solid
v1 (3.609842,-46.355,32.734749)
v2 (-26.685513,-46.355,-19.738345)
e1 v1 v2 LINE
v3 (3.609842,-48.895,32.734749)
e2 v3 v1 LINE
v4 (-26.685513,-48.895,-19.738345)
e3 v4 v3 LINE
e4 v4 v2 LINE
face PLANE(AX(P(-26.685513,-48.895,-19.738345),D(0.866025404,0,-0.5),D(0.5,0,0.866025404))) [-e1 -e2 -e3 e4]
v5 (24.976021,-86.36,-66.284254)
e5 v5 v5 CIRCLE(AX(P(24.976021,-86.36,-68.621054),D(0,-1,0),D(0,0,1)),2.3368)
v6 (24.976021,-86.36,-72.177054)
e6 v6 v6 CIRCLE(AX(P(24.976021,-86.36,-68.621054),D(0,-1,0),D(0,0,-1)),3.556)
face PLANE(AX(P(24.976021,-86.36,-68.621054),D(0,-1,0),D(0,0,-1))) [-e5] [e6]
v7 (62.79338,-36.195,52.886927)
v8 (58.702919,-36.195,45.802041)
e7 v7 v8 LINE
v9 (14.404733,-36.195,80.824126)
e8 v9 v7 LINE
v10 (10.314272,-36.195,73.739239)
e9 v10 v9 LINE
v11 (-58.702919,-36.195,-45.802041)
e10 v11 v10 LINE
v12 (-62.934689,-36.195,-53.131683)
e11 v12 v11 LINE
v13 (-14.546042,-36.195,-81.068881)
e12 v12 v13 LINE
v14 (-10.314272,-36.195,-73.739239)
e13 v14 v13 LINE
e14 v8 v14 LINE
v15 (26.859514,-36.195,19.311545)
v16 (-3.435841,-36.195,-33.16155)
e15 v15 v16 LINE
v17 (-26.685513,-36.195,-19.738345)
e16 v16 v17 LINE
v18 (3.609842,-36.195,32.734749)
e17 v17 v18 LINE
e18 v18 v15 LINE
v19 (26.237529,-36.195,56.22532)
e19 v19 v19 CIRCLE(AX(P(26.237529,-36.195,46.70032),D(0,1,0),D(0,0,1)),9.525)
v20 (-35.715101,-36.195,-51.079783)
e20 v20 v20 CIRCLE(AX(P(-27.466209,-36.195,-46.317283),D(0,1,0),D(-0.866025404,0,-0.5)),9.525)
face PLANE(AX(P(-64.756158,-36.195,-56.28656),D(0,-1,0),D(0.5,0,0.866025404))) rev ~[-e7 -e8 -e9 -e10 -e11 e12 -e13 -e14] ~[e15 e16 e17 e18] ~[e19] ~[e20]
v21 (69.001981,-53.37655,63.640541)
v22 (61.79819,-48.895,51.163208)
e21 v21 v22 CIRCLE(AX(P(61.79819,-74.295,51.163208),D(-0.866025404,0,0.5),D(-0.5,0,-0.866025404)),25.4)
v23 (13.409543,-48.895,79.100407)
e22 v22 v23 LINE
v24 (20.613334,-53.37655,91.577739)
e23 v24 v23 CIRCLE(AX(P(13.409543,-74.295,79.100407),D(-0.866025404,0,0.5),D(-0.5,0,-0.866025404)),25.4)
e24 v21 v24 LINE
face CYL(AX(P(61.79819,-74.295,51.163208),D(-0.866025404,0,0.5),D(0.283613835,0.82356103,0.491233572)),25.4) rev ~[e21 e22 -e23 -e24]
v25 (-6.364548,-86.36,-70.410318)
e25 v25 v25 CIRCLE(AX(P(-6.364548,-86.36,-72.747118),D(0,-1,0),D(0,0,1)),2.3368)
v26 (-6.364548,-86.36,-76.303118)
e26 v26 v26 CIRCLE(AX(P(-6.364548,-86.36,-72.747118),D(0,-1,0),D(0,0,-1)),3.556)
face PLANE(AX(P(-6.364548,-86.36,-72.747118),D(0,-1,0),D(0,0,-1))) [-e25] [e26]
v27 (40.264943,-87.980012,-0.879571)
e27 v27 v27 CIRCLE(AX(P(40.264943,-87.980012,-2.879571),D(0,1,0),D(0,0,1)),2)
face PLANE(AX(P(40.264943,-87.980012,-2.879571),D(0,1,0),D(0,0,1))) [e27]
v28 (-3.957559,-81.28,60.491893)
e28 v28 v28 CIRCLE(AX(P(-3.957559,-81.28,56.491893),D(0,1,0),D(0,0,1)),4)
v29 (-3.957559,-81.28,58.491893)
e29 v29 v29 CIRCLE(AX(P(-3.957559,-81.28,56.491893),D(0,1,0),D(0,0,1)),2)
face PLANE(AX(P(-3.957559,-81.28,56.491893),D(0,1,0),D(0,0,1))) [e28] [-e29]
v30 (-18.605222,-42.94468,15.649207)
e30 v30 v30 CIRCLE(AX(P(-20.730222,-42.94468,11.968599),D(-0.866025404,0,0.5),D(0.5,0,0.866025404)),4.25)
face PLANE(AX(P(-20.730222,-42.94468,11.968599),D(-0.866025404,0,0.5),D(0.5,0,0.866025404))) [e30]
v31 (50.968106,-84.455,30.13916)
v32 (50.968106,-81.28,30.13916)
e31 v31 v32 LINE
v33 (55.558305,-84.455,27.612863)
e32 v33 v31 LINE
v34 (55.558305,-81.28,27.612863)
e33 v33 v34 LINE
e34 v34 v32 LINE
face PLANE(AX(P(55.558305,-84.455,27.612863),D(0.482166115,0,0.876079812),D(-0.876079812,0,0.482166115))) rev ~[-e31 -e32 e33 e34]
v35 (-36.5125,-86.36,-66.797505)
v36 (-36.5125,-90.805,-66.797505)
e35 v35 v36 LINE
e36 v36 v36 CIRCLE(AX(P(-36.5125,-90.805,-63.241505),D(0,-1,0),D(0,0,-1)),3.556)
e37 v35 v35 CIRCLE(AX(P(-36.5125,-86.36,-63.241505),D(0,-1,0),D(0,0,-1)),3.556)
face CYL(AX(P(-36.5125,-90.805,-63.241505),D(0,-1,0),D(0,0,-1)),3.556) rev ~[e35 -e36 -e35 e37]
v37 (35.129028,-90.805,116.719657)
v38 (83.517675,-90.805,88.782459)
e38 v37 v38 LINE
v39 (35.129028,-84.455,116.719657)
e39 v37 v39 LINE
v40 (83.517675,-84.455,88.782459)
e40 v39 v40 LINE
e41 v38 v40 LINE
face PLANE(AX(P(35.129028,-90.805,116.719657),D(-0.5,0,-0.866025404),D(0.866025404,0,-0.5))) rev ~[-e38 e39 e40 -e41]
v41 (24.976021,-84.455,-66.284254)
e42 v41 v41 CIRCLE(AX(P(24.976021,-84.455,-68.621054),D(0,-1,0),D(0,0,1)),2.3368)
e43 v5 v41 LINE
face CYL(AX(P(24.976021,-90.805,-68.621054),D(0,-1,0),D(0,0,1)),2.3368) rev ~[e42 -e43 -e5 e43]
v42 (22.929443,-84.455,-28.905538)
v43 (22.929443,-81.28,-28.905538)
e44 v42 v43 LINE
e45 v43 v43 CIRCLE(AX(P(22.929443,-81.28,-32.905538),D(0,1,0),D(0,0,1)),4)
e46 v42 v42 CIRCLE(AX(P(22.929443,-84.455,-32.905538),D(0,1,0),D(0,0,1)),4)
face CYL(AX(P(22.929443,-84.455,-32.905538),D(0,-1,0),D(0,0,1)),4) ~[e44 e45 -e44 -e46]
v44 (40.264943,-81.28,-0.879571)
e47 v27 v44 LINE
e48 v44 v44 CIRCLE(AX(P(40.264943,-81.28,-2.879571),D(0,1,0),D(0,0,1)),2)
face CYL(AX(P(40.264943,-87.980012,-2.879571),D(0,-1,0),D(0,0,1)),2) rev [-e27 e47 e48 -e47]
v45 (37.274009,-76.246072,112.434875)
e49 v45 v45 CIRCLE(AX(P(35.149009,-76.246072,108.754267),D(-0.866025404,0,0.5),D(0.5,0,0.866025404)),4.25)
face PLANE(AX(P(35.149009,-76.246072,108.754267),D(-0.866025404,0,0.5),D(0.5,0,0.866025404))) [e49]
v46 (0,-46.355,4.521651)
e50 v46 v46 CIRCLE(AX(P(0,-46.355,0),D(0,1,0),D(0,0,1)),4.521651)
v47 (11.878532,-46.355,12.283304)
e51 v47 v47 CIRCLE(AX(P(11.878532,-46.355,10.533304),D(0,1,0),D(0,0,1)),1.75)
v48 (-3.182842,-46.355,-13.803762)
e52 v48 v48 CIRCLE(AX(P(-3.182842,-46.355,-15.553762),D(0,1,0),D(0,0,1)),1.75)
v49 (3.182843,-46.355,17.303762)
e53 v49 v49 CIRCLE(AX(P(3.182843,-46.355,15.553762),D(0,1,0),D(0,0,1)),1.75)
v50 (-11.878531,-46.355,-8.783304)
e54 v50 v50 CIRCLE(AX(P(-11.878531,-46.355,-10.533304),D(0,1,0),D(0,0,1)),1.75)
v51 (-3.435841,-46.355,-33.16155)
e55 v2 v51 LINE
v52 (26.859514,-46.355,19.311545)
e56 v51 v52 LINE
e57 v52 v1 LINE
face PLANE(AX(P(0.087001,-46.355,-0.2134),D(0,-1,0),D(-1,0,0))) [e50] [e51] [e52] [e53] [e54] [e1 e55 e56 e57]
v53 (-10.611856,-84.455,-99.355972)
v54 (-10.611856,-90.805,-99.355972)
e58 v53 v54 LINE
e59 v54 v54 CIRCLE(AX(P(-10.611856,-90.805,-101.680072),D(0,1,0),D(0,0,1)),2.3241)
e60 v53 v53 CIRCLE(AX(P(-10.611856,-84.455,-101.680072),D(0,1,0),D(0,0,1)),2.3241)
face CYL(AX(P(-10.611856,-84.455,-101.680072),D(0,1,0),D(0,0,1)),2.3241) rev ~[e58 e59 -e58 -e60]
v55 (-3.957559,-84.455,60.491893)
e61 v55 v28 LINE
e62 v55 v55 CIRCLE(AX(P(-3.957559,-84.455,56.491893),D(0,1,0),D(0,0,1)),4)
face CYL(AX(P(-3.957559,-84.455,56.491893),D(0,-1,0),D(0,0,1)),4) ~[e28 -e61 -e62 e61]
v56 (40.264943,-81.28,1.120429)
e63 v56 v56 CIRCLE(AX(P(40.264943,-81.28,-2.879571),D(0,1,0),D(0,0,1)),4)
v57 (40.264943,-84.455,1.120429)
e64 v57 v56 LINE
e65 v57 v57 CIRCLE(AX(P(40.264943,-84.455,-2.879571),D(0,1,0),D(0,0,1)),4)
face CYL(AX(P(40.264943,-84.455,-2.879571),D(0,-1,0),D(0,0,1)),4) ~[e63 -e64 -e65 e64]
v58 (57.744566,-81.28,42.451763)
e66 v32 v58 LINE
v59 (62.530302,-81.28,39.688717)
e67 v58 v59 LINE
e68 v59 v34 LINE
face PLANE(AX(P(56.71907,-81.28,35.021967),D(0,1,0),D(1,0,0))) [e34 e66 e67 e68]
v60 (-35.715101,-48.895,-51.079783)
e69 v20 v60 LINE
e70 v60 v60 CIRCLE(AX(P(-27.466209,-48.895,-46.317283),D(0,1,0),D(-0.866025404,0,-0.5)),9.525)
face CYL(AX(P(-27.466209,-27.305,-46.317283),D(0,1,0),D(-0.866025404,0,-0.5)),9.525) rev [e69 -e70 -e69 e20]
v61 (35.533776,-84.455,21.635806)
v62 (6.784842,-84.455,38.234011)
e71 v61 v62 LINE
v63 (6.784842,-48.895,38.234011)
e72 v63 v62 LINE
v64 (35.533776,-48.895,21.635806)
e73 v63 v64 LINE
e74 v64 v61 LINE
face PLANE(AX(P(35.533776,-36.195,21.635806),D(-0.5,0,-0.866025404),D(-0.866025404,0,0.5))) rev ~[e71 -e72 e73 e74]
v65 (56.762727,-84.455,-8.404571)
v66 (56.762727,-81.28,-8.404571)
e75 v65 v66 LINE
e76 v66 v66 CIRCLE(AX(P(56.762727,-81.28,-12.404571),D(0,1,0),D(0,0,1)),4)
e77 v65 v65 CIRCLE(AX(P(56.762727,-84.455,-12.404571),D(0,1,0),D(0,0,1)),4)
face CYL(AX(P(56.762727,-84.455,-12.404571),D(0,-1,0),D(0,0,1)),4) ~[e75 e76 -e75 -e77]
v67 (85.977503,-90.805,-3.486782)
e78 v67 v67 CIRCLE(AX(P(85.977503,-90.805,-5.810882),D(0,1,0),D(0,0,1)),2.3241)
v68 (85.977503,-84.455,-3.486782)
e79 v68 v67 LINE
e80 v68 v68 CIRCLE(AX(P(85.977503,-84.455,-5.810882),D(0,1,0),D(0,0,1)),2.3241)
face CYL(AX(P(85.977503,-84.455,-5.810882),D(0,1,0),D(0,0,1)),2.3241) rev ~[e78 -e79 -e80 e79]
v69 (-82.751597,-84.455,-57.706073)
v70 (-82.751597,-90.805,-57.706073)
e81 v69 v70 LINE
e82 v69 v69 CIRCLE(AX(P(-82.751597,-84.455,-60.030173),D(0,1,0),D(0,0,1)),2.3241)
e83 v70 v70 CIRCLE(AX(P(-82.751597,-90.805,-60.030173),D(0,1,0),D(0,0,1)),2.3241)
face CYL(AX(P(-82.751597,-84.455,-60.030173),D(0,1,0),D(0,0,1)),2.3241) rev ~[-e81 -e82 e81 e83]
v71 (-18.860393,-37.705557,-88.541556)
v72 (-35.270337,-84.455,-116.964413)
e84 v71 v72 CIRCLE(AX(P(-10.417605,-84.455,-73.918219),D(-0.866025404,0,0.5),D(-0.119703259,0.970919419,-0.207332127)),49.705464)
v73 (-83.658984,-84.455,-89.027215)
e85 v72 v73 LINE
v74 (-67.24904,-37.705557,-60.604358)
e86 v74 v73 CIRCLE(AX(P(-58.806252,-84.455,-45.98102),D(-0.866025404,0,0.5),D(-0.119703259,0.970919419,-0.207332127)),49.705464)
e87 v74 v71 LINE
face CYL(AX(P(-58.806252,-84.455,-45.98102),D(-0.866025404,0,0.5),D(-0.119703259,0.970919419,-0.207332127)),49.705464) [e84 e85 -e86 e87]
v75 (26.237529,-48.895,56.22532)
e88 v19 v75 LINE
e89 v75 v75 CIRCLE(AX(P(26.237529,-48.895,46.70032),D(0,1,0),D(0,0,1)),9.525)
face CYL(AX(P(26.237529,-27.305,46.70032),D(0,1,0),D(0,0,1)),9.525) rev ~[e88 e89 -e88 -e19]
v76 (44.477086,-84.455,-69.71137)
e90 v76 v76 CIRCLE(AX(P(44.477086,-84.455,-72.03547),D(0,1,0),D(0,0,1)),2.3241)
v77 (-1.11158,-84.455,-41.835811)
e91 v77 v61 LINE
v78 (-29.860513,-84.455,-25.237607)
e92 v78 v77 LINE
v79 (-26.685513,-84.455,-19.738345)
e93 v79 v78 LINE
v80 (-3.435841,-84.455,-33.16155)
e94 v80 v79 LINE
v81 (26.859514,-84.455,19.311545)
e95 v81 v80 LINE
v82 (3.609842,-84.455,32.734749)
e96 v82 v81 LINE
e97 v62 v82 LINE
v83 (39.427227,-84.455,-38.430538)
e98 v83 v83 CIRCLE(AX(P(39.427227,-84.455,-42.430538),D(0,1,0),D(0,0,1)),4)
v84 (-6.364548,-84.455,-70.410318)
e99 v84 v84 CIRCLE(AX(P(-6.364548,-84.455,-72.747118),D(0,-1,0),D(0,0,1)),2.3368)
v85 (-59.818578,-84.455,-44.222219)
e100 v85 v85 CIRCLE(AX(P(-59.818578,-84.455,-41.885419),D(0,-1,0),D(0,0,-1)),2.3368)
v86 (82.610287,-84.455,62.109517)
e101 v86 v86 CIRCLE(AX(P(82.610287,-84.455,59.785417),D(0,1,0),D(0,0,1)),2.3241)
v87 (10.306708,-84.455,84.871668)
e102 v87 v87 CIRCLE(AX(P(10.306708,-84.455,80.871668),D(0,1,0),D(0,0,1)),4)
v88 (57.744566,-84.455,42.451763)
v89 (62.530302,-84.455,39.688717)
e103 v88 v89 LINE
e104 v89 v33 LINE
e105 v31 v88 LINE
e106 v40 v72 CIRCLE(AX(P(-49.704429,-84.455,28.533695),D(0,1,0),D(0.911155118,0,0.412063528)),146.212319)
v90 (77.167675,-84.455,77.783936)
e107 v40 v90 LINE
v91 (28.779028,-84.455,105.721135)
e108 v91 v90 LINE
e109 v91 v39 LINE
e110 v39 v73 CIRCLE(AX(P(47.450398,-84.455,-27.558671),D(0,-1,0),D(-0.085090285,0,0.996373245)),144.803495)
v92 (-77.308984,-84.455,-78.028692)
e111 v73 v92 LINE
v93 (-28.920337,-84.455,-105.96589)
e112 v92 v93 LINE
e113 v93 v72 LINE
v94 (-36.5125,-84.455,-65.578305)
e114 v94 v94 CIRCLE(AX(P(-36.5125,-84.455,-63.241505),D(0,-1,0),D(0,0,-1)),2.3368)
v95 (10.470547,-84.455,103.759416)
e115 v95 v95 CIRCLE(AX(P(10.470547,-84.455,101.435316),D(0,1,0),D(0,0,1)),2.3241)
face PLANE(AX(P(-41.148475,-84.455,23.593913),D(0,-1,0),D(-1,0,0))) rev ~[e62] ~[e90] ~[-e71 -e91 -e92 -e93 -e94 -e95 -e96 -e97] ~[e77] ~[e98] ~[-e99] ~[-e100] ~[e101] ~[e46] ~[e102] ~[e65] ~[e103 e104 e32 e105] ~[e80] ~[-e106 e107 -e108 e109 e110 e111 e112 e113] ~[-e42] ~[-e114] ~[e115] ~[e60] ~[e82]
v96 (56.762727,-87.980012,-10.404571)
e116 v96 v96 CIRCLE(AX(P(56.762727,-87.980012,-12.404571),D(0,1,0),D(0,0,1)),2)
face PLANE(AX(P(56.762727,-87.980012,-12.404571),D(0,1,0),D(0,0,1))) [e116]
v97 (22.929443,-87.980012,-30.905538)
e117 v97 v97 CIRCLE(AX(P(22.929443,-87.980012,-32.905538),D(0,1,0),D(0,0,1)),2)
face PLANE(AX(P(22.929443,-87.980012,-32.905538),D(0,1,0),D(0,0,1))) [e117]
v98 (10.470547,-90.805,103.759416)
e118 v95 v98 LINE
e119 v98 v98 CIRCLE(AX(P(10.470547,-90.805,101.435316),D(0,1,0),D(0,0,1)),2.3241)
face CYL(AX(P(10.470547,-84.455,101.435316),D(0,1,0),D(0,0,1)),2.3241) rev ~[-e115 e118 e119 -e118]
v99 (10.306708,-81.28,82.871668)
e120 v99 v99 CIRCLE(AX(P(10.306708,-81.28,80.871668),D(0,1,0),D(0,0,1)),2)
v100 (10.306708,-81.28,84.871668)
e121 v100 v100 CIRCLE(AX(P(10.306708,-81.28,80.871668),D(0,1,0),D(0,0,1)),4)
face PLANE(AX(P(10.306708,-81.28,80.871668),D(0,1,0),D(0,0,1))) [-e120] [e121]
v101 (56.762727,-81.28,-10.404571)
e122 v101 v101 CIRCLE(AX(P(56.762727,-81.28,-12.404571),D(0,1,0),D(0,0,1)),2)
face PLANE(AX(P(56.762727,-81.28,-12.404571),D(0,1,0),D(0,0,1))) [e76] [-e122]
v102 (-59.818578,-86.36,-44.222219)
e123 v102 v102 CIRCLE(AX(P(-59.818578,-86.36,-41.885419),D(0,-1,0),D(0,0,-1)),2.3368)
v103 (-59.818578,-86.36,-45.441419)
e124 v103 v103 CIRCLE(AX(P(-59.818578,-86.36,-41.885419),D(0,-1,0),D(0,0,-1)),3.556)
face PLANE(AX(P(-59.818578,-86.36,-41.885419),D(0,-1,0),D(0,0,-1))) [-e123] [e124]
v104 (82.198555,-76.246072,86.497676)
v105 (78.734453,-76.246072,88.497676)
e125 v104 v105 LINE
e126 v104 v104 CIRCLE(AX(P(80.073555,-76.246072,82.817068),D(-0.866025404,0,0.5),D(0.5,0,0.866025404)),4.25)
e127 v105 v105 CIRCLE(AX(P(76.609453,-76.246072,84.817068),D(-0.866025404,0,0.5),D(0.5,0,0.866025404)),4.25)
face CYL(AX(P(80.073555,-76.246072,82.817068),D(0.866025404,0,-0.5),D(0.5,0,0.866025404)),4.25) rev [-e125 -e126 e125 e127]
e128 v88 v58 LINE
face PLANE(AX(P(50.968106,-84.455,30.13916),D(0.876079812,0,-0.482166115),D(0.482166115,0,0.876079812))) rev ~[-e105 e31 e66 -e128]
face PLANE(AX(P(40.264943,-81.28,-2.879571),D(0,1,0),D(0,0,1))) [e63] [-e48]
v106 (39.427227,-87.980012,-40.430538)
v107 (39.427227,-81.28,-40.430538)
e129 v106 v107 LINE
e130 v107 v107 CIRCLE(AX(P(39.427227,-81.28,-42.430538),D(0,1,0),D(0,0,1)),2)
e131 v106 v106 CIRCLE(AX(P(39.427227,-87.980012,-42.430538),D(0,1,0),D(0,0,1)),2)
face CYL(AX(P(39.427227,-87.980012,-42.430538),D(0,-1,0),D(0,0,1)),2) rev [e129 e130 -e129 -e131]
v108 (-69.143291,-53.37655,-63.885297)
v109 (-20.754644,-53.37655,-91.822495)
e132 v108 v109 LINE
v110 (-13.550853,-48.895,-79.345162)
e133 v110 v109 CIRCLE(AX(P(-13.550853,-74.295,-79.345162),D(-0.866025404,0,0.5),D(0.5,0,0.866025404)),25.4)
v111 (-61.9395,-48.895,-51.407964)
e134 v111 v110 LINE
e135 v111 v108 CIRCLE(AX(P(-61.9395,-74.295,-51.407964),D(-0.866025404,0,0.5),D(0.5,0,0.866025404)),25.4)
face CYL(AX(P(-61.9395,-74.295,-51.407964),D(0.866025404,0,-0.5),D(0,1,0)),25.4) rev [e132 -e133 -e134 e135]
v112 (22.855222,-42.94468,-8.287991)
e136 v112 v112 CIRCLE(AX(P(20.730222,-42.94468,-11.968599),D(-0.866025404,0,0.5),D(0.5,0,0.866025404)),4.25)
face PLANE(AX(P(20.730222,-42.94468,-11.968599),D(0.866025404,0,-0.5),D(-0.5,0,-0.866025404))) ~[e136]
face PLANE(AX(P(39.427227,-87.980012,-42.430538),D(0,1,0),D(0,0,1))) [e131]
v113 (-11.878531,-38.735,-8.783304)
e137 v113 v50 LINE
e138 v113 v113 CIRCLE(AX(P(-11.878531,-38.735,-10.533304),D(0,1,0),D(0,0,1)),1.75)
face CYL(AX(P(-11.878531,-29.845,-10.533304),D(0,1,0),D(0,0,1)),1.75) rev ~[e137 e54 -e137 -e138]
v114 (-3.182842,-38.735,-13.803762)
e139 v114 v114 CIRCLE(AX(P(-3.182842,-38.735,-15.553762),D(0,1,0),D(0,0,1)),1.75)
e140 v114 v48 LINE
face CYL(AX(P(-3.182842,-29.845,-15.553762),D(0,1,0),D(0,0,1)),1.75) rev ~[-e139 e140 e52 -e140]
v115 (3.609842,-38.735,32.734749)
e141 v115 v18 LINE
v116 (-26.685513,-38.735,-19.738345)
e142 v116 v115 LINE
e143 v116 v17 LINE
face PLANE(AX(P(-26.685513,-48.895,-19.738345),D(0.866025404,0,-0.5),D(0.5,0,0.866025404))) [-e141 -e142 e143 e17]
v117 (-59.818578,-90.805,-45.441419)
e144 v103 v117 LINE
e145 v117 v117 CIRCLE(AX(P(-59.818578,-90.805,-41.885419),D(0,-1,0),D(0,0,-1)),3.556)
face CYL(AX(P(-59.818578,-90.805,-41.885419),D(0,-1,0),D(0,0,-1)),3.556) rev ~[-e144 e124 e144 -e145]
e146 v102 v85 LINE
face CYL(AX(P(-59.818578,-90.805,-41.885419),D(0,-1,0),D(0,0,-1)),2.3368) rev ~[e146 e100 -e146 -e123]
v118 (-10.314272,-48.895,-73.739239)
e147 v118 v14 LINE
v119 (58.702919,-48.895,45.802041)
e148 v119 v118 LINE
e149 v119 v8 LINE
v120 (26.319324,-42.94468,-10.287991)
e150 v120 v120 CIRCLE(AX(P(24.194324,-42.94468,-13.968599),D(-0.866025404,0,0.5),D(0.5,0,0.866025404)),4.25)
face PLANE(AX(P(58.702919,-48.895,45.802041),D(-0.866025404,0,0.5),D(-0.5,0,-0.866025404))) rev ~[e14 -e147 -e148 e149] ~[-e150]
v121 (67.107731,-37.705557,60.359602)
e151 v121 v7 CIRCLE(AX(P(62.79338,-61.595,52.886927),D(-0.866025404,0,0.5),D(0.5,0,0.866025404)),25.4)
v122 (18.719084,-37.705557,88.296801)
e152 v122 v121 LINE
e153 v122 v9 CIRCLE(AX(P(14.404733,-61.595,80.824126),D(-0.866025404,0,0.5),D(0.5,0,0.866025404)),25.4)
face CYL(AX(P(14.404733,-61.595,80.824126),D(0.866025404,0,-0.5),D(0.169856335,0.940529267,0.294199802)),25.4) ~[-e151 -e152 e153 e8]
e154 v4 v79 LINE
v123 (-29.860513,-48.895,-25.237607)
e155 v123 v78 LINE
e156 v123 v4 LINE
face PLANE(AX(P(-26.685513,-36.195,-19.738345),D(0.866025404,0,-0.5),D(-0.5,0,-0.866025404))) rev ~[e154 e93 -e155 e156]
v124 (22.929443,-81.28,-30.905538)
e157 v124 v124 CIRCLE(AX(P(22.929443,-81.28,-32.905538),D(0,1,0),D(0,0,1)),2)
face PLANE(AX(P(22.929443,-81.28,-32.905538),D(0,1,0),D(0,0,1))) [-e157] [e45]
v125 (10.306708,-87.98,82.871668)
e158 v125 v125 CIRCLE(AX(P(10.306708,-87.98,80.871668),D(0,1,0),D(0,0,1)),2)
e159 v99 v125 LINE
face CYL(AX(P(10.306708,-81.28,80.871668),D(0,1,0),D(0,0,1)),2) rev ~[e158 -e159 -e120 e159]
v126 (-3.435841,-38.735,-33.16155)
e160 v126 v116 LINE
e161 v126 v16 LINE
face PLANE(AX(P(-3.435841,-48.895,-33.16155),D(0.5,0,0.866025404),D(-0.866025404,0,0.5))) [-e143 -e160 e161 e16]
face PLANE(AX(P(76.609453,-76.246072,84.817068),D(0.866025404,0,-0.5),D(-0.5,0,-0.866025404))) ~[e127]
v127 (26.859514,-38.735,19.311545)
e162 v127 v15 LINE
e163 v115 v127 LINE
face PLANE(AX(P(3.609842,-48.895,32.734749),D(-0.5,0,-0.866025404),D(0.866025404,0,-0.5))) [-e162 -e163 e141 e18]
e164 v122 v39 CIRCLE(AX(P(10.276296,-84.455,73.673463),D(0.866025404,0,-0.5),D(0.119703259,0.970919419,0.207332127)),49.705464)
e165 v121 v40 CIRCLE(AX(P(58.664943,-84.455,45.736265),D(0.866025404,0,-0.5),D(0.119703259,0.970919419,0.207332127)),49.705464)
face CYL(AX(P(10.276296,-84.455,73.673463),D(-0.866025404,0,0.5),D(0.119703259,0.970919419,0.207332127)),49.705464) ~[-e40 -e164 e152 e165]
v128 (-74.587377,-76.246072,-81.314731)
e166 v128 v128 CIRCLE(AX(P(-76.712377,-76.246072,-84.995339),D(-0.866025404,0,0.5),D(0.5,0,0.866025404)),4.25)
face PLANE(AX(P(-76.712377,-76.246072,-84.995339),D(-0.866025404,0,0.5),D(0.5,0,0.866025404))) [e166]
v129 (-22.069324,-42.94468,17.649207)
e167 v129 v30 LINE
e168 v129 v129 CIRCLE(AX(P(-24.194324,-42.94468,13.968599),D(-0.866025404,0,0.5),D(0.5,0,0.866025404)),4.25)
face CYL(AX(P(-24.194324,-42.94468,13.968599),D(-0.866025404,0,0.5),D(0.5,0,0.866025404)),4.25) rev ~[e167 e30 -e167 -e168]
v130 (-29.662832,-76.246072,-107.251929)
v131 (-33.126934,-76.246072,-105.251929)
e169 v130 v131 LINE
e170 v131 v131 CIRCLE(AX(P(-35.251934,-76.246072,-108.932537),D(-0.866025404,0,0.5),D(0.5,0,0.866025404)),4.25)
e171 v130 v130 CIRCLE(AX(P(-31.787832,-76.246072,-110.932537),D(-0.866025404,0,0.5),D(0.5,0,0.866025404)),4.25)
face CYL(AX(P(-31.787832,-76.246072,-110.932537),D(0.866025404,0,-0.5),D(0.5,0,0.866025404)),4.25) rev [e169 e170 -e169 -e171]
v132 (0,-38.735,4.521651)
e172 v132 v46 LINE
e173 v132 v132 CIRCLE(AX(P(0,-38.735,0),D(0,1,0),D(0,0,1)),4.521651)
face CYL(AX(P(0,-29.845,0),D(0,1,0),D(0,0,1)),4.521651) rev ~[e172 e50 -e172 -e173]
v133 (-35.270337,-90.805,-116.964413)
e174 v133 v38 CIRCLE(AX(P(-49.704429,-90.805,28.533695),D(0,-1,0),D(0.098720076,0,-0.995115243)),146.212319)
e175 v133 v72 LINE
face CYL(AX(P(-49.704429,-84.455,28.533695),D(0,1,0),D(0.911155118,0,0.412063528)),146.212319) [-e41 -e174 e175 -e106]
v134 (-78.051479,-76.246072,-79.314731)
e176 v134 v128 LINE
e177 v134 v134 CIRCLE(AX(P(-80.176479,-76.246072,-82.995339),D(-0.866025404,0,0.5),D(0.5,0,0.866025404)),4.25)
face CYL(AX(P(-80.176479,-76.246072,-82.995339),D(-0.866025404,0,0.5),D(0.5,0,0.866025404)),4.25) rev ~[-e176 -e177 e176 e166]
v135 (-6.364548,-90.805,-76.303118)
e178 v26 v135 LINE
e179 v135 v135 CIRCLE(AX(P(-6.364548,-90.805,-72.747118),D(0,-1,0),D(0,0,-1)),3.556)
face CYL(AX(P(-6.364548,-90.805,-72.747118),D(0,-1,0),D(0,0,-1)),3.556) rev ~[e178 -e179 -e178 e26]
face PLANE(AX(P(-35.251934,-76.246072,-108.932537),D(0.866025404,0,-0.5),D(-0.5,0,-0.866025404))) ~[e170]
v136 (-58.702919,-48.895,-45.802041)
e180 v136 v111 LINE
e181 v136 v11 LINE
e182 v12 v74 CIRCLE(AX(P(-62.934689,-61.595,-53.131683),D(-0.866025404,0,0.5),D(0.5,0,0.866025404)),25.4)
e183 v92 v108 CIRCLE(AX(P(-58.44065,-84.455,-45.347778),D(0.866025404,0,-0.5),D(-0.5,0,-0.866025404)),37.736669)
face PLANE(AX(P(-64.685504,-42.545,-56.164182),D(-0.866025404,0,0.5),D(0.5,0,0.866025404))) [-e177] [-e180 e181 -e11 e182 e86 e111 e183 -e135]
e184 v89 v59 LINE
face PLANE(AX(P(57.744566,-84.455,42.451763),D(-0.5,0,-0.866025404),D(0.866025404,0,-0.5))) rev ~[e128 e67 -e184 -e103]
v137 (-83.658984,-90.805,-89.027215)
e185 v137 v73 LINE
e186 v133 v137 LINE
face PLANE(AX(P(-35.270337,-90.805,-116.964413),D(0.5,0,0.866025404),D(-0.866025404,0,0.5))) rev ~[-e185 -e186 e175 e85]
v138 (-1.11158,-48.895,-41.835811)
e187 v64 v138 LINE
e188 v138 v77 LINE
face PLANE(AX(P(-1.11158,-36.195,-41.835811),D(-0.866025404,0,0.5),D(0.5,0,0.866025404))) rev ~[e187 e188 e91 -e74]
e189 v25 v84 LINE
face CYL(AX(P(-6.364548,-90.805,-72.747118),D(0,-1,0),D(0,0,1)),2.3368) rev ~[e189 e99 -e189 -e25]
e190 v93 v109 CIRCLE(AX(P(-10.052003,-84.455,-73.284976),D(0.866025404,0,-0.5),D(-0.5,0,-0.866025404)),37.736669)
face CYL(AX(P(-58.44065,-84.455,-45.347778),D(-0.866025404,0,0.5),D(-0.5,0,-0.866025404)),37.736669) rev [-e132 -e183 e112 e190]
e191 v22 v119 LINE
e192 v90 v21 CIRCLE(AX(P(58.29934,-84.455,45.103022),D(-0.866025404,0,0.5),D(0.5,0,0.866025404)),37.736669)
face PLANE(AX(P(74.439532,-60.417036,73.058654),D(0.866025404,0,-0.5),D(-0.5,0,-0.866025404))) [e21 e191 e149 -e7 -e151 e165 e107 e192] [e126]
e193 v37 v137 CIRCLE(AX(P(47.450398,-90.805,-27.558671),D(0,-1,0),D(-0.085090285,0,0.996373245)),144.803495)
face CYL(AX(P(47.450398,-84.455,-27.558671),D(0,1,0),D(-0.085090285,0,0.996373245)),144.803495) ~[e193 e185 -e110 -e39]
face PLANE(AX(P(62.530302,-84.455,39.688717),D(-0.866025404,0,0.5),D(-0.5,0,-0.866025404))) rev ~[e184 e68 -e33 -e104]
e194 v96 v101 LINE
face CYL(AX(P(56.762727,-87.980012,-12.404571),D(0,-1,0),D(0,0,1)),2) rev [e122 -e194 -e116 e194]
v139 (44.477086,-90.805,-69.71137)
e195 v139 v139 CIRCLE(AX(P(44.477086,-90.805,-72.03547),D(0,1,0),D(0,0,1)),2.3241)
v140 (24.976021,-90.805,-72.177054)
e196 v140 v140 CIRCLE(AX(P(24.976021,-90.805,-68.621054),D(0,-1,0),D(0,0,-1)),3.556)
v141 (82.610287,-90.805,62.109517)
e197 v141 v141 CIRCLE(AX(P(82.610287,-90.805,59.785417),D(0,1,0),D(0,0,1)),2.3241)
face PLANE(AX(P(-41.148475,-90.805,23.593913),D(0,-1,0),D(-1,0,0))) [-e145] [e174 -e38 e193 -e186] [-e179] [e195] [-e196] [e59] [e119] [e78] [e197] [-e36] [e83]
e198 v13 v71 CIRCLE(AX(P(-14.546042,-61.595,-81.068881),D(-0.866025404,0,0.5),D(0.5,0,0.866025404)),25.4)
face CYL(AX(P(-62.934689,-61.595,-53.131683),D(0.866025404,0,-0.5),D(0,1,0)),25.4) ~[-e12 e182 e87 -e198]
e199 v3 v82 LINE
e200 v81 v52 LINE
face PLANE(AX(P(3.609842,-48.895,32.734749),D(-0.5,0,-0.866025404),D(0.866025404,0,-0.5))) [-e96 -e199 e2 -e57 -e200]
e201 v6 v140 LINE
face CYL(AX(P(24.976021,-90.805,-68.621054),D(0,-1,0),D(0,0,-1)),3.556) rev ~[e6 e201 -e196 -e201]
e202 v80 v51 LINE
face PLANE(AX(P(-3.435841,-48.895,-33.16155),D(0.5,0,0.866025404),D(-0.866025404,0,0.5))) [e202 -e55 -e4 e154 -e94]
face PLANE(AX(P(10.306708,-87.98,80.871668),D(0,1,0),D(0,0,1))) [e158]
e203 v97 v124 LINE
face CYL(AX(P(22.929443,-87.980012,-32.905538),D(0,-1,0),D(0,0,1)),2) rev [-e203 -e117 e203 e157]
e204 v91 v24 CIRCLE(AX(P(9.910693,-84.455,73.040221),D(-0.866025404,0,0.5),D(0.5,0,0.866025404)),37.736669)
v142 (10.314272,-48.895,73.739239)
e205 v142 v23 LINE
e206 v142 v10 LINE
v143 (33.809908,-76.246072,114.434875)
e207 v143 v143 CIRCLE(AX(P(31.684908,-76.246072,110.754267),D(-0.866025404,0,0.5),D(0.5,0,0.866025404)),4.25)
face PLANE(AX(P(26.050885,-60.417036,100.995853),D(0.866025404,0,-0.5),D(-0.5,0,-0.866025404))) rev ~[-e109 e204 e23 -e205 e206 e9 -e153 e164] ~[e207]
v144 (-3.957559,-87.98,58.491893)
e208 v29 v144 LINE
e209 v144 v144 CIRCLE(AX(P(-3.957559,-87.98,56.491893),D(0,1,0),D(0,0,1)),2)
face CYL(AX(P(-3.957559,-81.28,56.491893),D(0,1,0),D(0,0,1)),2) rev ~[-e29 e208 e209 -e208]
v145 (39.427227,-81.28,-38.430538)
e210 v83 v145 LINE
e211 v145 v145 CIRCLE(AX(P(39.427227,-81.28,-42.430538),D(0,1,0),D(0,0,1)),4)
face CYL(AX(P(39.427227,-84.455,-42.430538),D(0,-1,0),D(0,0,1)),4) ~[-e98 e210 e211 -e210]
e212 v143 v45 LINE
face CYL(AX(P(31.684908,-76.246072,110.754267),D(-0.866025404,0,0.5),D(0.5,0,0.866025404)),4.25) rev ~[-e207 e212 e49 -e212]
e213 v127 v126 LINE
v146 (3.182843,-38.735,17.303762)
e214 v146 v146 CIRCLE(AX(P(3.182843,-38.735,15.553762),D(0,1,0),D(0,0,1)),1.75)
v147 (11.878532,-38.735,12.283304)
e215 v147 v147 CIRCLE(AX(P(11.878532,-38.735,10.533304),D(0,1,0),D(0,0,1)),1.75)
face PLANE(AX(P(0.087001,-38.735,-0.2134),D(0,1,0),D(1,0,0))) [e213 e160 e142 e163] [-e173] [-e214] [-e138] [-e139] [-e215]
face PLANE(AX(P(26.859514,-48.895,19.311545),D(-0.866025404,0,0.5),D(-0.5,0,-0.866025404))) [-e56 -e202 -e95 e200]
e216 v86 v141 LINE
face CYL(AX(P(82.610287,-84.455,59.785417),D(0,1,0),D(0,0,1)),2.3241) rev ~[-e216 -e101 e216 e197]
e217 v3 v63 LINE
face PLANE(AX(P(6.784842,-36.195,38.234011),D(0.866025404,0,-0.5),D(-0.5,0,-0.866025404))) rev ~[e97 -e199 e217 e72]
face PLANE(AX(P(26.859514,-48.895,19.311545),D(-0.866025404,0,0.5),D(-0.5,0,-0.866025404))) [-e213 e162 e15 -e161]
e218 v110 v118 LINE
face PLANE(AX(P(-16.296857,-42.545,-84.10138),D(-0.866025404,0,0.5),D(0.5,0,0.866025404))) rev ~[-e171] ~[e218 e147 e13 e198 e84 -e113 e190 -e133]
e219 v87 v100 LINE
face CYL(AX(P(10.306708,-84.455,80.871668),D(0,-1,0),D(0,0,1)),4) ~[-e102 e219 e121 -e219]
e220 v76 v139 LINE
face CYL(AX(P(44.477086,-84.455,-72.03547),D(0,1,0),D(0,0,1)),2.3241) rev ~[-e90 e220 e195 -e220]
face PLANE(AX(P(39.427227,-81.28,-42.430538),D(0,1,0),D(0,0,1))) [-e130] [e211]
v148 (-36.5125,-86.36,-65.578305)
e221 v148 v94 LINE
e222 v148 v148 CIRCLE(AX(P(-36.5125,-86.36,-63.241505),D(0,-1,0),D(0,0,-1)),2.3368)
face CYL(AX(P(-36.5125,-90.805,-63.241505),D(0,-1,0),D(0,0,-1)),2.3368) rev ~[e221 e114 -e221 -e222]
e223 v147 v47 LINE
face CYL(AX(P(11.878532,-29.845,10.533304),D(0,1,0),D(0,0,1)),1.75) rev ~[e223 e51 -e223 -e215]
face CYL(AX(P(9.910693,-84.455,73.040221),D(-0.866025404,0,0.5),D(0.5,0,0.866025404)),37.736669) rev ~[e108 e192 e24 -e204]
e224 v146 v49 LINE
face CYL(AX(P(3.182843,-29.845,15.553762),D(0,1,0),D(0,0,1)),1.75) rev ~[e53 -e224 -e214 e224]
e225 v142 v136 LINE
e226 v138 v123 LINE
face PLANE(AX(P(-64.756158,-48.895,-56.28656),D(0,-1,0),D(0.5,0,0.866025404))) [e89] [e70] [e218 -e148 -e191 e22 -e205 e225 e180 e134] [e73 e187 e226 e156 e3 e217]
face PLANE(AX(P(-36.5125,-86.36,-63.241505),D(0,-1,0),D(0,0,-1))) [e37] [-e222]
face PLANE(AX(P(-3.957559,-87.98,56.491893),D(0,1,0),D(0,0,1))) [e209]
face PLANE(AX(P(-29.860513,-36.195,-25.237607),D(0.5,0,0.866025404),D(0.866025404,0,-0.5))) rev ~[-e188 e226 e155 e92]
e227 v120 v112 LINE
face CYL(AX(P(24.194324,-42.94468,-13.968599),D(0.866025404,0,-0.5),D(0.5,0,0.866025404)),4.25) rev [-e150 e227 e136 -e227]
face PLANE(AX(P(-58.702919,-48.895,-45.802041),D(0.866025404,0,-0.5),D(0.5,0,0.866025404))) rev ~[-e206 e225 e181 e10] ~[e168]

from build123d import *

# Parameters (mm, degrees)
BOSS_EXTRUDE1_DEPTH      = 8.255
SKETCH2_R                = 4.52165068
CUT_EXTRUDE1_DEPTH       = 24.892
BOSS_EXTRUDE2_DEPTH      = 2.54
BOSS_EXTRUDE2_DEPTH_BACK = 19.05
BOSS_EXTRUDE3_DEPTH      = 55.87439679
SKETCH8_W                = 306.493093546
SKETCH8_H                = 19.05
BOSS_EXTRUDE4_DEPTH      = 55.87439679
SKETCH9_R                = 88.9
BOSS_EXTRUDE5_DEPTH      = 19.05
SKETCH10_W               = 191.766813877
SKETCH10_H               = 13.52799874
BOSS_EXTRUDE6_DEPTH      = 55.87439679
SKETCH12_R               = 1.75
CUT_EXTRUDE3_DEPTH       = 25.146
SKETCH14_R               = 9.525
CUT_EXTRUDE4_DEPTH       = 30.48
CUT_EXTRUDE5_DEPTH       = 55.118
SKETCH16_R               = 79.375
CUT_EXTRUDE6_DEPTH       = 16.129
CUT_EXTRUDE7_DEPTH       = 8.89
CUT_EXTRUDE8_DEPTH       = 2.54
SKETCH19_W               = 282.174011185
SKETCH19_H               = 80.01
CUT_EXTRUDE9_DEPTH       = 75.946
BOSS_EXTRUDE7_DEPTH      = 6.35
BOSS_EXTRUDE8_DEPTH      = 48.26
SKETCH22_W               = 20.018863695
SKETCH22_H               = 30.79393733
CUT_EXTRUDE10_DEPTH      = 96.52
BOSS_EXTRUDE9_DEPTH      = 55.87439679
FILLET1_R                = 25.4
SKETCH24_W               = 0.282619494
SKETCH24_H               = 12.7
BOSS_EXTRUDE10_DEPTH     = 55.87439679
FILLET2_R                = 25.4
SKETCH25_R               = 2.3368
CUT_EXTRUDE11_DEPTH      = 21.336
SKETCH27_R               = 4.627670089
BOSS_EXTRUDE11_DEPTH     = 6.35
SKETCH29_R               = 2.3368
BOSS_EXTRUDE13_DEPTH     = 6.35
SKETCH30_R               = 2.3241
CUT_EXTRUDE13_DEPTH      = 48.514
SKETCH31_R               = 4.25
CUT_EXTRUDE14_DEPTH      = 4
SKETCH33_R               = 4
BOSS_EXTRUDE14_DEPTH     = 3.175
CUT_EXTRUDE16_DEPTH      = 3.175
CUT_EXTRUDE16_DEPTH_BACK = 3.525012
SKETCH32_R               = 2
SKETCH34_R               = 4
SKETCH34_R_2             = 1.7
BOSS_EXTRUDE15_DEPTH     = 3.175
SKETCH35_R               = 2
CUT_EXTRUDE17_DEPTH      = 6.7
SKETCH26_R               = 3.556
SKETCH26_R_2             = 2.3368
CUT_EXTRUDE12_DEPTH      = 4.318
SKETCH37_R               = 3.556
CUT_EXTRUDE18_DEPTH      = 4.445
SKETCH6_R                = 3.05
SKETCH6_R_2              = 1.75
CUT_EXTRUDE2_DEPTH       = 24.892


with BuildPart() as part:
    # Sketch1 → Boss-Extrude1 (new, symmetric)
    with BuildSketch(Plane(origin=(0, 0, 0), x_dir=(1, 0, 0), z_dir=(0, 1, 0))):
        Polygon((-26.685513069, 19.73834527), (-3.435840979, 33.16154971), (26.859514241, -19.311544765), (3.609842152, -32.734749204), align=None)
    extrude(amount=BOSS_EXTRUDE1_DEPTH, both=True)

    # Sketch2 → Cut-Extrude1 (cut)
    with BuildSketch(Plane(origin=(0, 8.255, 0), x_dir=(1, 0, 0), z_dir=(0, 1, 0))):
        with Locations(Location((0, 0, 0), (0, 0, 270))):
            Circle(SKETCH2_R)
    extrude(amount=-CUT_EXTRUDE1_DEPTH, mode=Mode.SUBTRACT)

    # Sketch12 → Cut-Extrude3 (cut)
    with BuildSketch(Plane(origin=(0, 8.255, 0), x_dir=(1, 0, 0), z_dir=(0, 1, 0))):
        with Locations(Location((-3.182842434, 15.553762143, 0), (0, 0, 270))):
            Circle(SKETCH12_R)
        with Locations(Location((3.182843419, -15.553761764, 0), (0, 0, 270))):
            Circle(SKETCH12_R)
        with Locations(Location((-11.87853102, 10.533303997, 0), (0, 0, 270))):
            Circle(SKETCH12_R)
        with Locations(Location((11.878532006, -10.533303617, 0), (0, 0, 270))):
            Circle(SKETCH12_R)
    extrude(amount=-CUT_EXTRUDE3_DEPTH, mode=Mode.SUBTRACT)


with BuildPart() as body_2:
    # Sketch3 → Boss-Extrude2 (new, two sides: drawn at the far end of the back side and taken through both)
    with BuildSketch(Plane(origin=(0, 8.255, 0), x_dir=(1, 0, 0), z_dir=(0, 1, 0)).offset(-BOSS_EXTRUDE2_DEPTH_BACK)):
        Polygon((-10.314271596, 73.739239236), (-58.702918637, 45.802040841), (10.314271596, -73.739239236), (58.702918637, -45.802040841), align=None)
        Polygon((-26.685513069, 19.73834527), (3.609842152, -32.734749204), (26.859514241, -19.311544765), (-3.435840979, 33.16154971), align=None, mode=Mode.SUBTRACT)
    extrude(amount=BOSS_EXTRUDE2_DEPTH + BOSS_EXTRUDE2_DEPTH_BACK)

    # Sketch7 → Boss-Extrude3 (add)
    with BuildSketch(Plane(origin=(-24.19432352, 0, 13.968599197), x_dir=(0.5000000000000003, 0, 0.8660254037844384), z_dir=(-0.8660254037844385, 0, 0.5000000000000004))):
        Polygon((-90.607190232, 10.795), (-118.92932164, -90.805), (-97.33932164, -90.805), (-69.017190232, -10.795), (-69.017190232, 10.795), align=None)
    boss_extrude3 = extrude(amount=-BOSS_EXTRUDE3_DEPTH)

    # Sketch8 → Boss-Extrude4 (add)
    with BuildSketch(Plane(origin=(-24.19432352, 0, 13.968599197), x_dir=(0.5000000000000003, 0, 0.8660254037844384), z_dir=(-0.8660254037844385, 0, 0.5000000000000004))):
        with Locations((0, -100.33)):
            Rectangle(SKETCH8_W, SKETCH8_H)
    extrude(amount=-BOSS_EXTRUDE4_DEPTH)

    # Mirror1: Boss-Extrude3 across plane
    add(boss_extrude3.mirror(Plane(origin=(-0.070654873, 0, -0.122377831), x_dir=(-0.8660254037844366, 0, 0.5000000000000038), z_dir=(0.5000000000000041, 0, 0.8660254037844364))))

    # Sketch9 → Boss-Extrude5 (add)
    with BuildSketch(Plane(origin=(0, -90.805, 0), x_dir=(1, 0, 0), z_dir=(0, 1, 0))):
        Circle(SKETCH9_R)
    extrude(amount=-BOSS_EXTRUDE5_DEPTH)

    # Sketch10 → Boss-Extrude6 (add)
    with BuildSketch(Plane(origin=(-24.19432352, 0, 13.968599197), x_dir=(0.5000000000000047, 0, 0.866025403784436), z_dir=(-0.866025403784436, 0, 0.5000000000000047))):
        with Locations((-2.1166315, -68.398848488)):
            Rectangle(SKETCH10_W, SKETCH10_H)
    extrude(amount=-BOSS_EXTRUDE6_DEPTH)

    # Sketch14 → Cut-Extrude4 (cut)
    with BuildSketch(Plane(origin=(0, 10.795, 0), x_dir=(1, 0, 0), z_dir=(0, 1, 0))):
        with Locations(Location((26.237529429, -46.700320482, 0), (0, 0, 270))):
            Circle(SKETCH14_R)
    cut_extrude4 = extrude(amount=-CUT_EXTRUDE4_DEPTH, mode=Mode.SUBTRACT)

    # Mirror2: Cut-Extrude4 across plane
    add(cut_extrude4.mirror(Plane(origin=(-0.070654873, 0, -0.122377831), x_dir=(-0.8660254037844366, 0, 0.5000000000000038), z_dir=(0.5000000000000041, 0, 0.8660254037844364))), mode=Mode.SUBTRACT)

    # Sketch15 → Cut-Extrude5 (cut)
    with BuildSketch(Plane(origin=(0, -90.805, 0), x_dir=(1, 0, 0), z_dir=(0, 1, 0))):
        Polygon((100.817596907, -118.746803351), (83.517674594, -88.782458937), (35.129027553, -116.719657331), (52.428949866, -146.684001745), align=None)
        Polygon((-83.658984341, 89.027214598), (-35.2703373, 116.964412993), (-52.428949866, 146.684001745), (-100.817596907, 118.746803351), align=None)
    extrude(amount=-CUT_EXTRUDE5_DEPTH, mode=Mode.SUBTRACT)

    # Sketch16 → Cut-Extrude6 (cut)
    with BuildSketch(Plane(origin=(0, -90.805, 0), x_dir=(1, 0, 0), z_dir=(0, 1, 0))):
        with Locations(Location((0, 0, 0), (0, 0, 270))):
            Circle(SKETCH16_R)
    extrude(amount=-CUT_EXTRUDE6_DEPTH, mode=Mode.SUBTRACT)


with BuildPart() as cut_extrude7_tool:
    # Sketch17 → Cut-Extrude7 (new body)
    with BuildSketch(Plane(origin=(0, 10.795, 0), x_dir=(1, 0, 0), z_dir=(0, 1, 0))):
        Polygon((27.82393906, -104.066872908), (76.212586101, -76.129674513), (-31.017857396, 109.598901741), (-79.406504437, 81.661703346), align=None)
    extrude(amount=-CUT_EXTRUDE7_DEPTH)


with BuildPart() as part_1:
    add(part.part)

    # Cut-Extrude7: cut by cut_extrude7_tool
    add(cut_extrude7_tool.part, mode=Mode.SUBTRACT)

    # Sketch18 → Cut-Extrude8 (cut)
    with BuildSketch(Plane(origin=(0, 1.905, 0), x_dir=(1, 0, 0), z_dir=(0, 1, 0))):
        Polygon((-26.685513069, 19.73834527), (3.609842152, -32.734749204), (26.859514241, -19.311544765), (-3.435840979, 33.16154971), align=None)
    extrude(amount=-CUT_EXTRUDE8_DEPTH, mode=Mode.SUBTRACT)


with BuildPart() as body_2_1:
    add(body_2.part)

    # Cut-Extrude7: cut by cut_extrude7_tool
    add(cut_extrude7_tool.part, mode=Mode.SUBTRACT)

    # Sketch19 → Cut-Extrude9 (cut)
    with BuildSketch(Plane(origin=(-24.19432352, 0, 13.968599197), x_dir=(0.5000000000000047, 0, 0.866025403784436), z_dir=(-0.866025403784436, 0, 0.5000000000000047))):
        with Locations((-0.70763264, -50.8)):
            Rectangle(SKETCH19_W, SKETCH19_H)
    extrude(amount=-CUT_EXTRUDE9_DEPTH, mode=Mode.SUBTRACT)


with BuildPart() as cut_extrude9_piece_1:
    # of the separate pieces the step leaves, piece 1, a body of its own (cut_extrude9_pieces)
    add(body_2_1.part.solids().sort_by_distance((-83.658984341, -90.805, -89.027214598))[0])


with BuildPart() as cut_extrude9_piece_2:
    # of the separate pieces the step leaves, piece 2, a body of its own (cut_extrude9_pieces)
    add(body_2_1.part.solids().sort_by_distance((-70.737011886, 1.905, -66.645701772))[0])


with BuildPart() as cut_extrude9_piece_2_1:
    # Body-Move/Copy1: moved
    add(cut_extrude9_piece_2.part.moved(Location((0, -38.1, 0))))


with BuildPart() as part_2:
    # Body-Move/Copy1: moved
    add(part_1.part.moved(Location((0, -38.1, 0))))


with BuildPart() as cut_extrude9_piece_2_2:
    add(cut_extrude9_piece_2_1.part)

    # Combine1: union part
    add(part_2.part)



with BuildPart() as body_3:
    # Sketch20 → Boss-Extrude7 (new body)
    with BuildSketch(Plane(origin=(0, -90.805, 0), x_dir=(1, 0, 0), z_dir=(0, 1, 0))):
        with BuildLine():
            Line((-18.003789429, 87.057874809), (-35.2703373, 116.964412993))
            Line((-35.2703373, 116.964412993), (-83.658984341, 89.027214598))
            Line((-83.658984341, 89.027214598), (-66.39243647, 59.120676414))
            ThreePointArc((-66.39243647, 59.120676414), (-76.989658396, -44.45), (18.003789429, -87.057874809))
            Line((18.003789429, -87.057874809), (35.129027553, -116.719657331))
            Line((35.129027553, -116.719657331), (83.517674594, -88.782458937))
            Line((83.517674594, -88.782458937), (66.39243647, -59.120676414))
            ThreePointArc((66.39243647, -59.120676414), (76.989658396, 44.45), (-18.003789429, 87.057874809))
        make_face()
    extrude(amount=BOSS_EXTRUDE7_DEPTH)


with BuildPart() as cut_extrude9_piece_2_3:
    add(cut_extrude9_piece_2_2.part)

    add(body_3.part)  # Boss-Extrude8 merges body 3
    # Sketch21 → Boss-Extrude8 (add)
    with BuildSketch(Plane(origin=(0, -36.195, 0), x_dir=(1, 0, 0), z_dir=(0, 1, 0))):
        Polygon((3.609842152, -32.734749204), (26.859514241, -19.311544765), (-3.435840979, 33.16154971), (-26.685513069, 19.73834527), (-29.860513069, 25.237606584), (-1.111579665, 41.835811024), (35.533775555, -21.635806079), (6.784842152, -38.234010518), align=None)
    extrude(amount=-BOSS_EXTRUDE8_DEPTH)

    # Sketch22 → Cut-Extrude10 (cut)
    with BuildSketch(Plane(origin=(-24.19432352, 0, 13.968599197), x_dir=(0.5000000000000047, 0, 0.866025403784436), z_dir=(-0.866025403784436, 0, 0.5000000000000047))):
        with Locations((-90.850482288, -41.491292788)):
            Rectangle(SKETCH22_W, SKETCH22_H)
        with Locations((90.850482288, -41.491292788)):
            Rectangle(SKETCH22_W, SKETCH22_H)
    extrude(amount=-CUT_EXTRUDE10_DEPTH, mode=Mode.SUBTRACT)

    # Sketch23 → Boss-Extrude9 (add)
    with BuildSketch(Plane(origin=(-24.19432352, 0, 13.968599197), x_dir=(0.5000000000000047, 0, 0.866025403784436), z_dir=(-0.866025403784436, 0, 0.5000000000000047))):
        with BuildLine():
            Line((80.84105044, -48.895), (80.84105044, -36.195))
            ThreePointArc((80.84105044, -36.195), (108.069992547, -53.80253313), (118.646702146, -84.455))
            Line((118.646702146, -84.455), (105.946702146, -84.455))
            ThreePointArc((105.946702146, -84.455), (99.037850994, -62.690307562), (80.84105044, -48.895))
        make_face()
    boss_extrude9 = extrude(amount=-BOSS_EXTRUDE9_DEPTH)

    # Fillet1
    fillet1_edges = [cut_extrude9_piece_2_3.edges().sort_by_distance(p)[0] for p in [
        (40.42052522, -36.195, 70.010403349),
        (40.42052522, -48.895, 70.010403349),
    ]]
    fillet(fillet1_edges, radius=FILLET1_R)

    # Mirror5: Boss-Extrude9 across plane
    add(boss_extrude9.mirror(Plane(origin=(-0.070654873, 0, -0.122377831), x_dir=(-0.8660254037844366, 0, 0.5000000000000038), z_dir=(0.5000000000000041, 0, 0.8660254037844364))))

    # Sketch24 → Boss-Extrude10 (add)
    with BuildSketch(Plane(origin=(-24.19432352, 0, 13.968599197), x_dir=(0.5000000000000047, 0, 0.866025403784436), z_dir=(-0.866025403784436, 0, 0.5000000000000047))):
        with Locations((-80.982360187, -42.545)):
            Rectangle(SKETCH24_W, SKETCH24_H)
    extrude(amount=-BOSS_EXTRUDE10_DEPTH)

    # Fillet2
    fillet2_edges = [cut_extrude9_piece_2_3.edges().sort_by_distance(p)[0] for p in [
        (-40.561834967, -48.895, -70.255159011),
        (-40.561834967, -36.195, -70.255159011),
    ]]
    fillet(fillet2_edges, radius=FILLET2_R)

    # Sketch25 → Cut-Extrude11 (cut)
    with BuildSketch(Plane.XZ.offset(90.805)):
        with Locations(Location((-36.5125, -63.241505111, 0), (0, 0, 270))):
            Circle(SKETCH25_R)
        with Locations(Location((-59.818578034, -41.885419265, 0), (0, 0, 270))):
            Circle(SKETCH25_R)
        with Locations(Location((-71.915586164, -12.680658174, 0), (0, 0, 270))):
            Circle(SKETCH25_R)
        with Locations(Location((-6.364548114, -72.747117828, 0), (0, 0, 90))):
            Circle(SKETCH25_R)
        with Locations(Location((24.976020966, -68.621053633, 0), (0, 0, 90))):
            Circle(SKETCH25_R)
    extrude(amount=-CUT_EXTRUDE11_DEPTH, mode=Mode.SUBTRACT)

    # Sketch27 → Boss-Extrude11 (add)
    with BuildSketch(Plane(origin=(0, -84.455, 0), x_dir=(1, 0, 0), z_dir=(0, 1, 0))):
        with Locations((-72.217270858, 13.520359966)):
            Circle(SKETCH27_R)
    extrude(amount=-BOSS_EXTRUDE11_DEPTH)

    # Sketch29 → Boss-Extrude13 (add)
    # profile 1 of 2: a face of its own
    with BuildSketch(Plane(origin=(0, -84.455, 0), x_dir=(1, 0, 0), z_dir=(0, 1, 0))):
        with BuildLine():
            Line((-83.658984341, 89.027214598), (35.129027553, -116.719657331))
            ThreePointArc((35.129027553, -116.719657331), (-77.953106839, -44.843076777), (-83.658984341, 89.027214598))
        make_face()
        with Locations(Location((-59.818578034, 41.885419265, 0), (0, 0, 90))):
            Circle(SKETCH29_R, mode=Mode.SUBTRACT)
    # profile 2 of 2: a face of its own
    with BuildSketch(Plane(origin=(0, -84.455, 0), x_dir=(1, 0, 0), z_dir=(0, 1, 0))):
        with BuildLine():
            Line((-35.2703373, 116.964412993), (83.517674594, -88.782458937))
            ThreePointArc((83.517674594, -88.782458937), (76.919154391, 44.572464934), (-35.2703373, 116.964412993))
        make_face()
        with Locations(Location((24.976020966, 68.621053633, 0), (0, 0, 270))):
            Circle(SKETCH29_R, mode=Mode.SUBTRACT)
        with Locations(Location((-6.364548114, 72.747117828, 0), (0, 0, 270))):
            Circle(SKETCH29_R, mode=Mode.SUBTRACT)
    extrude(amount=-BOSS_EXTRUDE13_DEPTH)

    # Sketch30 → Cut-Extrude13 (cut)
    with BuildSketch(Plane(origin=(0, -84.455, 0), x_dir=(1, 0, 0), z_dir=(0, 1, 0))):
        with Locations(Location((-82.751596824, 60.030173011, 0), (0, 0, 270))):
            Circle(SKETCH30_R)
        with Locations(Location((-10.611856409, 101.680071559, 0), (0, 0, 270))):
            Circle(SKETCH30_R)
        with Locations(Location((44.477086399, 72.035469588, 0), (0, 0, 270))):
            Circle(SKETCH30_R)
        with Locations(Location((85.977502807, 5.810881587, 0), (0, 0, 270))):
            Circle(SKETCH30_R)
        with Locations(Location((82.610287077, -59.78541735, 0), (0, 0, 270))):
            Circle(SKETCH30_R)
        with Locations(Location((10.470546662, -101.435315897, 0), (0, 0, 270))):
            Circle(SKETCH30_R)
    extrude(amount=-CUT_EXTRUDE13_DEPTH, mode=Mode.SUBTRACT)

    # Sketch31 → Cut-Extrude14 (cut)
    with BuildSketch(Plane(origin=(-24.19432352, 0, 13.968599197), x_dir=(0.5000000000000047, 0, 0.866025403784436), z_dir=(-0.866025403784436, 0, 0.5000000000000047))):
        with Locations((-111.964311164, -76.246071585)):
            Circle(SKETCH31_R)
        with Locations((0, -42.944679699)):
            Circle(SKETCH31_R)
        with Locations((111.758462511, -76.246071585)):
            Circle(SKETCH31_R)
    cut_extrude14 = extrude(amount=-CUT_EXTRUDE14_DEPTH, mode=Mode.SUBTRACT)

    # Mirror6: Cut-Extrude14 across plane
    add(cut_extrude14.mirror(Plane(origin=(0, 0, 0), x_dir=(0.5000000000000042, 0, 0.8660254037844362), z_dir=(-0.8660254037844363, 0, 0.5000000000000042))), mode=Mode.SUBTRACT)

    # Sketch33 → Boss-Extrude14 (add)
    with BuildSketch(Plane(origin=(0, -84.455, 0), x_dir=(1, 0, 0), z_dir=(0, 1, 0))):
        with Locations(Location((39.427227366, 42.430537568, 0), (0, 0, 270))):
            Circle(SKETCH33_R)
        with Locations(Location((22.929443424, 32.905537568, 0), (0, 0, 270))):
            Circle(SKETCH33_R)
        with Locations(Location((40.264943424, 2.879570793, 0), (0, 0, 270))):
            Circle(SKETCH33_R)
        with Locations(Location((56.762727366, 12.404570793, 0), (0, 0, 270))):
            Circle(SKETCH33_R)
    extrude(amount=BOSS_EXTRUDE14_DEPTH)

    # Sketch32 → Cut-Extrude16 (cut, two sides: drawn at the far end of the back side and taken through both)
    with BuildSketch(Plane(origin=(0, -84.455, 0), x_dir=(1, 0, 0), z_dir=(0, 1, 0)).offset(-CUT_EXTRUDE16_DEPTH_BACK)):
        with Locations(Location((39.427227366, 42.430537568, 0), (0, 0, 270))):
            Circle(SKETCH32_R)
        with Locations(Location((22.929443424, 32.905537568, 0), (0, 0, 270))):
            Circle(SKETCH32_R)
        with Locations(Location((56.762727366, 12.404570793, 0), (0, 0, 270))):
            Circle(SKETCH32_R)
        with Locations(Location((40.264943424, 2.879570793, 0), (0, 0, 270))):
            Circle(SKETCH32_R)
    extrude(amount=CUT_EXTRUDE16_DEPTH + CUT_EXTRUDE16_DEPTH_BACK, mode=Mode.SUBTRACT)

    # Sketch34 → Boss-Extrude15 (add)
    # profile 1 of 5: a face of its own
    with BuildSketch(Plane(origin=(0, -84.455, 0), x_dir=(1, 0, 0), z_dir=(0, 1, 0))):
        Polygon((55.558304724, -27.612862565), (50.968106057, -30.139160086), (57.744566136, -42.451762923), (62.530302414, -39.688716794), align=None)
    # profile 2 of 5: a face of its own
    with BuildSketch(Plane(origin=(0, -84.455, 0), x_dir=(1, 0, 0), z_dir=(0, 1, 0))):
        with Locations(Location((-3.957558623, -56.491893391, 0), (0, 0, 270))):
            Circle(SKETCH34_R)
        with Locations((-3.957558623, -56.491893391)):
            Circle(SKETCH34_R_2, mode=Mode.SUBTRACT)
    # profile 3 of 5: a face of its own
    with BuildSketch(Plane(origin=(0, -84.455, 0), x_dir=(1, 0, 0), z_dir=(0, 1, 0))):
        with Locations((-3.957558623, -56.491893391)):
            Circle(SKETCH34_R_2)
    # profile 4 of 5: a face of its own
    with BuildSketch(Plane(origin=(0, -84.455, 0), x_dir=(1, 0, 0), z_dir=(0, 1, 0))):
        with Locations(Location((10.306708306, -80.871668445, 0), (0, 0, 270))):
            Circle(SKETCH34_R)
        with Locations((10.306708306, -80.871668445)):
            Circle(SKETCH34_R_2, mode=Mode.SUBTRACT)
    # profile 5 of 5: a face of its own
    with BuildSketch(Plane(origin=(0, -84.455, 0), x_dir=(1, 0, 0), z_dir=(0, 1, 0))):
        with Locations((10.306708306, -80.871668445)):
            Circle(SKETCH34_R_2)
    extrude(amount=BOSS_EXTRUDE15_DEPTH)

    # Sketch35 → Cut-Extrude17 (cut)
    with BuildSketch(Plane(origin=(0, -81.28, 0), x_dir=(1, 0, 0), z_dir=(0, 1, 0))):
        with Locations(Location((-3.957558623, -56.491893391, 0), (0, 0, 270))):
            Circle(SKETCH35_R)
        with Locations(Location((10.306708306, -80.871668445, 0), (0, 0, 270))):
            Circle(SKETCH35_R)
    extrude(amount=-CUT_EXTRUDE17_DEPTH, mode=Mode.SUBTRACT)

    # Sketch26 → Cut-Extrude12 (cut)
    # profile 1 of 4: a face of its own
    with BuildSketch(Plane.XZ.offset(90.805)):
        with Locations(Location((-59.818578034, -41.885419265, 0), (0, 0, 270))):
            Circle(SKETCH26_R)
        with Locations(Location((-59.818578034, -41.885419265, 0), (0, 0, 270))):
            Circle(SKETCH26_R_2, mode=Mode.SUBTRACT)
    # profile 2 of 4: a face of its own
    with BuildSketch(Plane.XZ.offset(90.805)):
        with Locations(Location((-36.5125, -63.241505111, 0), (0, 0, 270))):
            Circle(SKETCH26_R)
        with Locations(Location((-36.5125, -63.241505111, 0), (0, 0, 270))):
            Circle(SKETCH26_R_2, mode=Mode.SUBTRACT)
    # profile 3 of 4: a face of its own
    with BuildSketch(Plane.XZ.offset(90.805)):
        with Locations(Location((-6.364548114, -72.747117828, 0), (0, 0, 270))):
            Circle(SKETCH26_R)
        with Locations(Location((-6.364548114, -72.747117828, 0), (0, 0, 270))):
            Circle(SKETCH26_R_2, mode=Mode.SUBTRACT)
    # profile 4 of 4: a face of its own
    with BuildSketch(Plane.XZ.offset(90.805)):
        with Locations(Location((24.976020966, -68.621053633, 0), (0, 0, 270))):
            Circle(SKETCH26_R)
        with Locations(Location((24.976020966, -68.621053633, 0), (0, 0, 270))):
            Circle(SKETCH26_R_2, mode=Mode.SUBTRACT)
    extrude(amount=-CUT_EXTRUDE12_DEPTH, mode=Mode.SUBTRACT)

    # Sketch37 → Cut-Extrude18 (cut)
    with BuildSketch(Plane.XZ.offset(90.805)):
        with Locations(Location((24.976020966, -68.621053633, 0), (0, 0, 270))):
            Circle(SKETCH37_R)
        with Locations(Location((-6.364548114, -72.747117828, 0), (0, 0, 270))):
            Circle(SKETCH37_R)
        with Locations(Location((-36.5125, -63.241505111, 0), (0, 0, 270))):
            Circle(SKETCH37_R)
        with Locations(Location((-59.818578034, -41.885419265, 0), (0, 0, 270))):
            Circle(SKETCH37_R)
    extrude(amount=-CUT_EXTRUDE18_DEPTH, mode=Mode.SUBTRACT)

    # Sketch6 → Cut-Extrude2 (cut)
    with BuildSketch(Plane.XZ.offset(6.35)):
        Circle(SKETCH6_R)
        with Locations(Location((-11.878531513, -10.533303807, 0), (0, 0, 89.999983872))):
            Circle(SKETCH6_R_2)
        with Locations(Location((11.878531513, 10.533303807, 0), (0, 0, 89.999983872))):
            Circle(SKETCH6_R_2)
        with Locations(Location((-3.182842926, -15.553761954, 0), (0, 0, 89.999983872))):
            Circle(SKETCH6_R_2)
        with Locations(Location((3.182842926, 15.553761954, 0), (0, 0, 89.999983872))):
            Circle(SKETCH6_R_2)
    extrude(amount=-CUT_EXTRUDE2_DEPTH, mode=Mode.SUBTRACT)


solid = cut_extrude9_piece_2_3.part
